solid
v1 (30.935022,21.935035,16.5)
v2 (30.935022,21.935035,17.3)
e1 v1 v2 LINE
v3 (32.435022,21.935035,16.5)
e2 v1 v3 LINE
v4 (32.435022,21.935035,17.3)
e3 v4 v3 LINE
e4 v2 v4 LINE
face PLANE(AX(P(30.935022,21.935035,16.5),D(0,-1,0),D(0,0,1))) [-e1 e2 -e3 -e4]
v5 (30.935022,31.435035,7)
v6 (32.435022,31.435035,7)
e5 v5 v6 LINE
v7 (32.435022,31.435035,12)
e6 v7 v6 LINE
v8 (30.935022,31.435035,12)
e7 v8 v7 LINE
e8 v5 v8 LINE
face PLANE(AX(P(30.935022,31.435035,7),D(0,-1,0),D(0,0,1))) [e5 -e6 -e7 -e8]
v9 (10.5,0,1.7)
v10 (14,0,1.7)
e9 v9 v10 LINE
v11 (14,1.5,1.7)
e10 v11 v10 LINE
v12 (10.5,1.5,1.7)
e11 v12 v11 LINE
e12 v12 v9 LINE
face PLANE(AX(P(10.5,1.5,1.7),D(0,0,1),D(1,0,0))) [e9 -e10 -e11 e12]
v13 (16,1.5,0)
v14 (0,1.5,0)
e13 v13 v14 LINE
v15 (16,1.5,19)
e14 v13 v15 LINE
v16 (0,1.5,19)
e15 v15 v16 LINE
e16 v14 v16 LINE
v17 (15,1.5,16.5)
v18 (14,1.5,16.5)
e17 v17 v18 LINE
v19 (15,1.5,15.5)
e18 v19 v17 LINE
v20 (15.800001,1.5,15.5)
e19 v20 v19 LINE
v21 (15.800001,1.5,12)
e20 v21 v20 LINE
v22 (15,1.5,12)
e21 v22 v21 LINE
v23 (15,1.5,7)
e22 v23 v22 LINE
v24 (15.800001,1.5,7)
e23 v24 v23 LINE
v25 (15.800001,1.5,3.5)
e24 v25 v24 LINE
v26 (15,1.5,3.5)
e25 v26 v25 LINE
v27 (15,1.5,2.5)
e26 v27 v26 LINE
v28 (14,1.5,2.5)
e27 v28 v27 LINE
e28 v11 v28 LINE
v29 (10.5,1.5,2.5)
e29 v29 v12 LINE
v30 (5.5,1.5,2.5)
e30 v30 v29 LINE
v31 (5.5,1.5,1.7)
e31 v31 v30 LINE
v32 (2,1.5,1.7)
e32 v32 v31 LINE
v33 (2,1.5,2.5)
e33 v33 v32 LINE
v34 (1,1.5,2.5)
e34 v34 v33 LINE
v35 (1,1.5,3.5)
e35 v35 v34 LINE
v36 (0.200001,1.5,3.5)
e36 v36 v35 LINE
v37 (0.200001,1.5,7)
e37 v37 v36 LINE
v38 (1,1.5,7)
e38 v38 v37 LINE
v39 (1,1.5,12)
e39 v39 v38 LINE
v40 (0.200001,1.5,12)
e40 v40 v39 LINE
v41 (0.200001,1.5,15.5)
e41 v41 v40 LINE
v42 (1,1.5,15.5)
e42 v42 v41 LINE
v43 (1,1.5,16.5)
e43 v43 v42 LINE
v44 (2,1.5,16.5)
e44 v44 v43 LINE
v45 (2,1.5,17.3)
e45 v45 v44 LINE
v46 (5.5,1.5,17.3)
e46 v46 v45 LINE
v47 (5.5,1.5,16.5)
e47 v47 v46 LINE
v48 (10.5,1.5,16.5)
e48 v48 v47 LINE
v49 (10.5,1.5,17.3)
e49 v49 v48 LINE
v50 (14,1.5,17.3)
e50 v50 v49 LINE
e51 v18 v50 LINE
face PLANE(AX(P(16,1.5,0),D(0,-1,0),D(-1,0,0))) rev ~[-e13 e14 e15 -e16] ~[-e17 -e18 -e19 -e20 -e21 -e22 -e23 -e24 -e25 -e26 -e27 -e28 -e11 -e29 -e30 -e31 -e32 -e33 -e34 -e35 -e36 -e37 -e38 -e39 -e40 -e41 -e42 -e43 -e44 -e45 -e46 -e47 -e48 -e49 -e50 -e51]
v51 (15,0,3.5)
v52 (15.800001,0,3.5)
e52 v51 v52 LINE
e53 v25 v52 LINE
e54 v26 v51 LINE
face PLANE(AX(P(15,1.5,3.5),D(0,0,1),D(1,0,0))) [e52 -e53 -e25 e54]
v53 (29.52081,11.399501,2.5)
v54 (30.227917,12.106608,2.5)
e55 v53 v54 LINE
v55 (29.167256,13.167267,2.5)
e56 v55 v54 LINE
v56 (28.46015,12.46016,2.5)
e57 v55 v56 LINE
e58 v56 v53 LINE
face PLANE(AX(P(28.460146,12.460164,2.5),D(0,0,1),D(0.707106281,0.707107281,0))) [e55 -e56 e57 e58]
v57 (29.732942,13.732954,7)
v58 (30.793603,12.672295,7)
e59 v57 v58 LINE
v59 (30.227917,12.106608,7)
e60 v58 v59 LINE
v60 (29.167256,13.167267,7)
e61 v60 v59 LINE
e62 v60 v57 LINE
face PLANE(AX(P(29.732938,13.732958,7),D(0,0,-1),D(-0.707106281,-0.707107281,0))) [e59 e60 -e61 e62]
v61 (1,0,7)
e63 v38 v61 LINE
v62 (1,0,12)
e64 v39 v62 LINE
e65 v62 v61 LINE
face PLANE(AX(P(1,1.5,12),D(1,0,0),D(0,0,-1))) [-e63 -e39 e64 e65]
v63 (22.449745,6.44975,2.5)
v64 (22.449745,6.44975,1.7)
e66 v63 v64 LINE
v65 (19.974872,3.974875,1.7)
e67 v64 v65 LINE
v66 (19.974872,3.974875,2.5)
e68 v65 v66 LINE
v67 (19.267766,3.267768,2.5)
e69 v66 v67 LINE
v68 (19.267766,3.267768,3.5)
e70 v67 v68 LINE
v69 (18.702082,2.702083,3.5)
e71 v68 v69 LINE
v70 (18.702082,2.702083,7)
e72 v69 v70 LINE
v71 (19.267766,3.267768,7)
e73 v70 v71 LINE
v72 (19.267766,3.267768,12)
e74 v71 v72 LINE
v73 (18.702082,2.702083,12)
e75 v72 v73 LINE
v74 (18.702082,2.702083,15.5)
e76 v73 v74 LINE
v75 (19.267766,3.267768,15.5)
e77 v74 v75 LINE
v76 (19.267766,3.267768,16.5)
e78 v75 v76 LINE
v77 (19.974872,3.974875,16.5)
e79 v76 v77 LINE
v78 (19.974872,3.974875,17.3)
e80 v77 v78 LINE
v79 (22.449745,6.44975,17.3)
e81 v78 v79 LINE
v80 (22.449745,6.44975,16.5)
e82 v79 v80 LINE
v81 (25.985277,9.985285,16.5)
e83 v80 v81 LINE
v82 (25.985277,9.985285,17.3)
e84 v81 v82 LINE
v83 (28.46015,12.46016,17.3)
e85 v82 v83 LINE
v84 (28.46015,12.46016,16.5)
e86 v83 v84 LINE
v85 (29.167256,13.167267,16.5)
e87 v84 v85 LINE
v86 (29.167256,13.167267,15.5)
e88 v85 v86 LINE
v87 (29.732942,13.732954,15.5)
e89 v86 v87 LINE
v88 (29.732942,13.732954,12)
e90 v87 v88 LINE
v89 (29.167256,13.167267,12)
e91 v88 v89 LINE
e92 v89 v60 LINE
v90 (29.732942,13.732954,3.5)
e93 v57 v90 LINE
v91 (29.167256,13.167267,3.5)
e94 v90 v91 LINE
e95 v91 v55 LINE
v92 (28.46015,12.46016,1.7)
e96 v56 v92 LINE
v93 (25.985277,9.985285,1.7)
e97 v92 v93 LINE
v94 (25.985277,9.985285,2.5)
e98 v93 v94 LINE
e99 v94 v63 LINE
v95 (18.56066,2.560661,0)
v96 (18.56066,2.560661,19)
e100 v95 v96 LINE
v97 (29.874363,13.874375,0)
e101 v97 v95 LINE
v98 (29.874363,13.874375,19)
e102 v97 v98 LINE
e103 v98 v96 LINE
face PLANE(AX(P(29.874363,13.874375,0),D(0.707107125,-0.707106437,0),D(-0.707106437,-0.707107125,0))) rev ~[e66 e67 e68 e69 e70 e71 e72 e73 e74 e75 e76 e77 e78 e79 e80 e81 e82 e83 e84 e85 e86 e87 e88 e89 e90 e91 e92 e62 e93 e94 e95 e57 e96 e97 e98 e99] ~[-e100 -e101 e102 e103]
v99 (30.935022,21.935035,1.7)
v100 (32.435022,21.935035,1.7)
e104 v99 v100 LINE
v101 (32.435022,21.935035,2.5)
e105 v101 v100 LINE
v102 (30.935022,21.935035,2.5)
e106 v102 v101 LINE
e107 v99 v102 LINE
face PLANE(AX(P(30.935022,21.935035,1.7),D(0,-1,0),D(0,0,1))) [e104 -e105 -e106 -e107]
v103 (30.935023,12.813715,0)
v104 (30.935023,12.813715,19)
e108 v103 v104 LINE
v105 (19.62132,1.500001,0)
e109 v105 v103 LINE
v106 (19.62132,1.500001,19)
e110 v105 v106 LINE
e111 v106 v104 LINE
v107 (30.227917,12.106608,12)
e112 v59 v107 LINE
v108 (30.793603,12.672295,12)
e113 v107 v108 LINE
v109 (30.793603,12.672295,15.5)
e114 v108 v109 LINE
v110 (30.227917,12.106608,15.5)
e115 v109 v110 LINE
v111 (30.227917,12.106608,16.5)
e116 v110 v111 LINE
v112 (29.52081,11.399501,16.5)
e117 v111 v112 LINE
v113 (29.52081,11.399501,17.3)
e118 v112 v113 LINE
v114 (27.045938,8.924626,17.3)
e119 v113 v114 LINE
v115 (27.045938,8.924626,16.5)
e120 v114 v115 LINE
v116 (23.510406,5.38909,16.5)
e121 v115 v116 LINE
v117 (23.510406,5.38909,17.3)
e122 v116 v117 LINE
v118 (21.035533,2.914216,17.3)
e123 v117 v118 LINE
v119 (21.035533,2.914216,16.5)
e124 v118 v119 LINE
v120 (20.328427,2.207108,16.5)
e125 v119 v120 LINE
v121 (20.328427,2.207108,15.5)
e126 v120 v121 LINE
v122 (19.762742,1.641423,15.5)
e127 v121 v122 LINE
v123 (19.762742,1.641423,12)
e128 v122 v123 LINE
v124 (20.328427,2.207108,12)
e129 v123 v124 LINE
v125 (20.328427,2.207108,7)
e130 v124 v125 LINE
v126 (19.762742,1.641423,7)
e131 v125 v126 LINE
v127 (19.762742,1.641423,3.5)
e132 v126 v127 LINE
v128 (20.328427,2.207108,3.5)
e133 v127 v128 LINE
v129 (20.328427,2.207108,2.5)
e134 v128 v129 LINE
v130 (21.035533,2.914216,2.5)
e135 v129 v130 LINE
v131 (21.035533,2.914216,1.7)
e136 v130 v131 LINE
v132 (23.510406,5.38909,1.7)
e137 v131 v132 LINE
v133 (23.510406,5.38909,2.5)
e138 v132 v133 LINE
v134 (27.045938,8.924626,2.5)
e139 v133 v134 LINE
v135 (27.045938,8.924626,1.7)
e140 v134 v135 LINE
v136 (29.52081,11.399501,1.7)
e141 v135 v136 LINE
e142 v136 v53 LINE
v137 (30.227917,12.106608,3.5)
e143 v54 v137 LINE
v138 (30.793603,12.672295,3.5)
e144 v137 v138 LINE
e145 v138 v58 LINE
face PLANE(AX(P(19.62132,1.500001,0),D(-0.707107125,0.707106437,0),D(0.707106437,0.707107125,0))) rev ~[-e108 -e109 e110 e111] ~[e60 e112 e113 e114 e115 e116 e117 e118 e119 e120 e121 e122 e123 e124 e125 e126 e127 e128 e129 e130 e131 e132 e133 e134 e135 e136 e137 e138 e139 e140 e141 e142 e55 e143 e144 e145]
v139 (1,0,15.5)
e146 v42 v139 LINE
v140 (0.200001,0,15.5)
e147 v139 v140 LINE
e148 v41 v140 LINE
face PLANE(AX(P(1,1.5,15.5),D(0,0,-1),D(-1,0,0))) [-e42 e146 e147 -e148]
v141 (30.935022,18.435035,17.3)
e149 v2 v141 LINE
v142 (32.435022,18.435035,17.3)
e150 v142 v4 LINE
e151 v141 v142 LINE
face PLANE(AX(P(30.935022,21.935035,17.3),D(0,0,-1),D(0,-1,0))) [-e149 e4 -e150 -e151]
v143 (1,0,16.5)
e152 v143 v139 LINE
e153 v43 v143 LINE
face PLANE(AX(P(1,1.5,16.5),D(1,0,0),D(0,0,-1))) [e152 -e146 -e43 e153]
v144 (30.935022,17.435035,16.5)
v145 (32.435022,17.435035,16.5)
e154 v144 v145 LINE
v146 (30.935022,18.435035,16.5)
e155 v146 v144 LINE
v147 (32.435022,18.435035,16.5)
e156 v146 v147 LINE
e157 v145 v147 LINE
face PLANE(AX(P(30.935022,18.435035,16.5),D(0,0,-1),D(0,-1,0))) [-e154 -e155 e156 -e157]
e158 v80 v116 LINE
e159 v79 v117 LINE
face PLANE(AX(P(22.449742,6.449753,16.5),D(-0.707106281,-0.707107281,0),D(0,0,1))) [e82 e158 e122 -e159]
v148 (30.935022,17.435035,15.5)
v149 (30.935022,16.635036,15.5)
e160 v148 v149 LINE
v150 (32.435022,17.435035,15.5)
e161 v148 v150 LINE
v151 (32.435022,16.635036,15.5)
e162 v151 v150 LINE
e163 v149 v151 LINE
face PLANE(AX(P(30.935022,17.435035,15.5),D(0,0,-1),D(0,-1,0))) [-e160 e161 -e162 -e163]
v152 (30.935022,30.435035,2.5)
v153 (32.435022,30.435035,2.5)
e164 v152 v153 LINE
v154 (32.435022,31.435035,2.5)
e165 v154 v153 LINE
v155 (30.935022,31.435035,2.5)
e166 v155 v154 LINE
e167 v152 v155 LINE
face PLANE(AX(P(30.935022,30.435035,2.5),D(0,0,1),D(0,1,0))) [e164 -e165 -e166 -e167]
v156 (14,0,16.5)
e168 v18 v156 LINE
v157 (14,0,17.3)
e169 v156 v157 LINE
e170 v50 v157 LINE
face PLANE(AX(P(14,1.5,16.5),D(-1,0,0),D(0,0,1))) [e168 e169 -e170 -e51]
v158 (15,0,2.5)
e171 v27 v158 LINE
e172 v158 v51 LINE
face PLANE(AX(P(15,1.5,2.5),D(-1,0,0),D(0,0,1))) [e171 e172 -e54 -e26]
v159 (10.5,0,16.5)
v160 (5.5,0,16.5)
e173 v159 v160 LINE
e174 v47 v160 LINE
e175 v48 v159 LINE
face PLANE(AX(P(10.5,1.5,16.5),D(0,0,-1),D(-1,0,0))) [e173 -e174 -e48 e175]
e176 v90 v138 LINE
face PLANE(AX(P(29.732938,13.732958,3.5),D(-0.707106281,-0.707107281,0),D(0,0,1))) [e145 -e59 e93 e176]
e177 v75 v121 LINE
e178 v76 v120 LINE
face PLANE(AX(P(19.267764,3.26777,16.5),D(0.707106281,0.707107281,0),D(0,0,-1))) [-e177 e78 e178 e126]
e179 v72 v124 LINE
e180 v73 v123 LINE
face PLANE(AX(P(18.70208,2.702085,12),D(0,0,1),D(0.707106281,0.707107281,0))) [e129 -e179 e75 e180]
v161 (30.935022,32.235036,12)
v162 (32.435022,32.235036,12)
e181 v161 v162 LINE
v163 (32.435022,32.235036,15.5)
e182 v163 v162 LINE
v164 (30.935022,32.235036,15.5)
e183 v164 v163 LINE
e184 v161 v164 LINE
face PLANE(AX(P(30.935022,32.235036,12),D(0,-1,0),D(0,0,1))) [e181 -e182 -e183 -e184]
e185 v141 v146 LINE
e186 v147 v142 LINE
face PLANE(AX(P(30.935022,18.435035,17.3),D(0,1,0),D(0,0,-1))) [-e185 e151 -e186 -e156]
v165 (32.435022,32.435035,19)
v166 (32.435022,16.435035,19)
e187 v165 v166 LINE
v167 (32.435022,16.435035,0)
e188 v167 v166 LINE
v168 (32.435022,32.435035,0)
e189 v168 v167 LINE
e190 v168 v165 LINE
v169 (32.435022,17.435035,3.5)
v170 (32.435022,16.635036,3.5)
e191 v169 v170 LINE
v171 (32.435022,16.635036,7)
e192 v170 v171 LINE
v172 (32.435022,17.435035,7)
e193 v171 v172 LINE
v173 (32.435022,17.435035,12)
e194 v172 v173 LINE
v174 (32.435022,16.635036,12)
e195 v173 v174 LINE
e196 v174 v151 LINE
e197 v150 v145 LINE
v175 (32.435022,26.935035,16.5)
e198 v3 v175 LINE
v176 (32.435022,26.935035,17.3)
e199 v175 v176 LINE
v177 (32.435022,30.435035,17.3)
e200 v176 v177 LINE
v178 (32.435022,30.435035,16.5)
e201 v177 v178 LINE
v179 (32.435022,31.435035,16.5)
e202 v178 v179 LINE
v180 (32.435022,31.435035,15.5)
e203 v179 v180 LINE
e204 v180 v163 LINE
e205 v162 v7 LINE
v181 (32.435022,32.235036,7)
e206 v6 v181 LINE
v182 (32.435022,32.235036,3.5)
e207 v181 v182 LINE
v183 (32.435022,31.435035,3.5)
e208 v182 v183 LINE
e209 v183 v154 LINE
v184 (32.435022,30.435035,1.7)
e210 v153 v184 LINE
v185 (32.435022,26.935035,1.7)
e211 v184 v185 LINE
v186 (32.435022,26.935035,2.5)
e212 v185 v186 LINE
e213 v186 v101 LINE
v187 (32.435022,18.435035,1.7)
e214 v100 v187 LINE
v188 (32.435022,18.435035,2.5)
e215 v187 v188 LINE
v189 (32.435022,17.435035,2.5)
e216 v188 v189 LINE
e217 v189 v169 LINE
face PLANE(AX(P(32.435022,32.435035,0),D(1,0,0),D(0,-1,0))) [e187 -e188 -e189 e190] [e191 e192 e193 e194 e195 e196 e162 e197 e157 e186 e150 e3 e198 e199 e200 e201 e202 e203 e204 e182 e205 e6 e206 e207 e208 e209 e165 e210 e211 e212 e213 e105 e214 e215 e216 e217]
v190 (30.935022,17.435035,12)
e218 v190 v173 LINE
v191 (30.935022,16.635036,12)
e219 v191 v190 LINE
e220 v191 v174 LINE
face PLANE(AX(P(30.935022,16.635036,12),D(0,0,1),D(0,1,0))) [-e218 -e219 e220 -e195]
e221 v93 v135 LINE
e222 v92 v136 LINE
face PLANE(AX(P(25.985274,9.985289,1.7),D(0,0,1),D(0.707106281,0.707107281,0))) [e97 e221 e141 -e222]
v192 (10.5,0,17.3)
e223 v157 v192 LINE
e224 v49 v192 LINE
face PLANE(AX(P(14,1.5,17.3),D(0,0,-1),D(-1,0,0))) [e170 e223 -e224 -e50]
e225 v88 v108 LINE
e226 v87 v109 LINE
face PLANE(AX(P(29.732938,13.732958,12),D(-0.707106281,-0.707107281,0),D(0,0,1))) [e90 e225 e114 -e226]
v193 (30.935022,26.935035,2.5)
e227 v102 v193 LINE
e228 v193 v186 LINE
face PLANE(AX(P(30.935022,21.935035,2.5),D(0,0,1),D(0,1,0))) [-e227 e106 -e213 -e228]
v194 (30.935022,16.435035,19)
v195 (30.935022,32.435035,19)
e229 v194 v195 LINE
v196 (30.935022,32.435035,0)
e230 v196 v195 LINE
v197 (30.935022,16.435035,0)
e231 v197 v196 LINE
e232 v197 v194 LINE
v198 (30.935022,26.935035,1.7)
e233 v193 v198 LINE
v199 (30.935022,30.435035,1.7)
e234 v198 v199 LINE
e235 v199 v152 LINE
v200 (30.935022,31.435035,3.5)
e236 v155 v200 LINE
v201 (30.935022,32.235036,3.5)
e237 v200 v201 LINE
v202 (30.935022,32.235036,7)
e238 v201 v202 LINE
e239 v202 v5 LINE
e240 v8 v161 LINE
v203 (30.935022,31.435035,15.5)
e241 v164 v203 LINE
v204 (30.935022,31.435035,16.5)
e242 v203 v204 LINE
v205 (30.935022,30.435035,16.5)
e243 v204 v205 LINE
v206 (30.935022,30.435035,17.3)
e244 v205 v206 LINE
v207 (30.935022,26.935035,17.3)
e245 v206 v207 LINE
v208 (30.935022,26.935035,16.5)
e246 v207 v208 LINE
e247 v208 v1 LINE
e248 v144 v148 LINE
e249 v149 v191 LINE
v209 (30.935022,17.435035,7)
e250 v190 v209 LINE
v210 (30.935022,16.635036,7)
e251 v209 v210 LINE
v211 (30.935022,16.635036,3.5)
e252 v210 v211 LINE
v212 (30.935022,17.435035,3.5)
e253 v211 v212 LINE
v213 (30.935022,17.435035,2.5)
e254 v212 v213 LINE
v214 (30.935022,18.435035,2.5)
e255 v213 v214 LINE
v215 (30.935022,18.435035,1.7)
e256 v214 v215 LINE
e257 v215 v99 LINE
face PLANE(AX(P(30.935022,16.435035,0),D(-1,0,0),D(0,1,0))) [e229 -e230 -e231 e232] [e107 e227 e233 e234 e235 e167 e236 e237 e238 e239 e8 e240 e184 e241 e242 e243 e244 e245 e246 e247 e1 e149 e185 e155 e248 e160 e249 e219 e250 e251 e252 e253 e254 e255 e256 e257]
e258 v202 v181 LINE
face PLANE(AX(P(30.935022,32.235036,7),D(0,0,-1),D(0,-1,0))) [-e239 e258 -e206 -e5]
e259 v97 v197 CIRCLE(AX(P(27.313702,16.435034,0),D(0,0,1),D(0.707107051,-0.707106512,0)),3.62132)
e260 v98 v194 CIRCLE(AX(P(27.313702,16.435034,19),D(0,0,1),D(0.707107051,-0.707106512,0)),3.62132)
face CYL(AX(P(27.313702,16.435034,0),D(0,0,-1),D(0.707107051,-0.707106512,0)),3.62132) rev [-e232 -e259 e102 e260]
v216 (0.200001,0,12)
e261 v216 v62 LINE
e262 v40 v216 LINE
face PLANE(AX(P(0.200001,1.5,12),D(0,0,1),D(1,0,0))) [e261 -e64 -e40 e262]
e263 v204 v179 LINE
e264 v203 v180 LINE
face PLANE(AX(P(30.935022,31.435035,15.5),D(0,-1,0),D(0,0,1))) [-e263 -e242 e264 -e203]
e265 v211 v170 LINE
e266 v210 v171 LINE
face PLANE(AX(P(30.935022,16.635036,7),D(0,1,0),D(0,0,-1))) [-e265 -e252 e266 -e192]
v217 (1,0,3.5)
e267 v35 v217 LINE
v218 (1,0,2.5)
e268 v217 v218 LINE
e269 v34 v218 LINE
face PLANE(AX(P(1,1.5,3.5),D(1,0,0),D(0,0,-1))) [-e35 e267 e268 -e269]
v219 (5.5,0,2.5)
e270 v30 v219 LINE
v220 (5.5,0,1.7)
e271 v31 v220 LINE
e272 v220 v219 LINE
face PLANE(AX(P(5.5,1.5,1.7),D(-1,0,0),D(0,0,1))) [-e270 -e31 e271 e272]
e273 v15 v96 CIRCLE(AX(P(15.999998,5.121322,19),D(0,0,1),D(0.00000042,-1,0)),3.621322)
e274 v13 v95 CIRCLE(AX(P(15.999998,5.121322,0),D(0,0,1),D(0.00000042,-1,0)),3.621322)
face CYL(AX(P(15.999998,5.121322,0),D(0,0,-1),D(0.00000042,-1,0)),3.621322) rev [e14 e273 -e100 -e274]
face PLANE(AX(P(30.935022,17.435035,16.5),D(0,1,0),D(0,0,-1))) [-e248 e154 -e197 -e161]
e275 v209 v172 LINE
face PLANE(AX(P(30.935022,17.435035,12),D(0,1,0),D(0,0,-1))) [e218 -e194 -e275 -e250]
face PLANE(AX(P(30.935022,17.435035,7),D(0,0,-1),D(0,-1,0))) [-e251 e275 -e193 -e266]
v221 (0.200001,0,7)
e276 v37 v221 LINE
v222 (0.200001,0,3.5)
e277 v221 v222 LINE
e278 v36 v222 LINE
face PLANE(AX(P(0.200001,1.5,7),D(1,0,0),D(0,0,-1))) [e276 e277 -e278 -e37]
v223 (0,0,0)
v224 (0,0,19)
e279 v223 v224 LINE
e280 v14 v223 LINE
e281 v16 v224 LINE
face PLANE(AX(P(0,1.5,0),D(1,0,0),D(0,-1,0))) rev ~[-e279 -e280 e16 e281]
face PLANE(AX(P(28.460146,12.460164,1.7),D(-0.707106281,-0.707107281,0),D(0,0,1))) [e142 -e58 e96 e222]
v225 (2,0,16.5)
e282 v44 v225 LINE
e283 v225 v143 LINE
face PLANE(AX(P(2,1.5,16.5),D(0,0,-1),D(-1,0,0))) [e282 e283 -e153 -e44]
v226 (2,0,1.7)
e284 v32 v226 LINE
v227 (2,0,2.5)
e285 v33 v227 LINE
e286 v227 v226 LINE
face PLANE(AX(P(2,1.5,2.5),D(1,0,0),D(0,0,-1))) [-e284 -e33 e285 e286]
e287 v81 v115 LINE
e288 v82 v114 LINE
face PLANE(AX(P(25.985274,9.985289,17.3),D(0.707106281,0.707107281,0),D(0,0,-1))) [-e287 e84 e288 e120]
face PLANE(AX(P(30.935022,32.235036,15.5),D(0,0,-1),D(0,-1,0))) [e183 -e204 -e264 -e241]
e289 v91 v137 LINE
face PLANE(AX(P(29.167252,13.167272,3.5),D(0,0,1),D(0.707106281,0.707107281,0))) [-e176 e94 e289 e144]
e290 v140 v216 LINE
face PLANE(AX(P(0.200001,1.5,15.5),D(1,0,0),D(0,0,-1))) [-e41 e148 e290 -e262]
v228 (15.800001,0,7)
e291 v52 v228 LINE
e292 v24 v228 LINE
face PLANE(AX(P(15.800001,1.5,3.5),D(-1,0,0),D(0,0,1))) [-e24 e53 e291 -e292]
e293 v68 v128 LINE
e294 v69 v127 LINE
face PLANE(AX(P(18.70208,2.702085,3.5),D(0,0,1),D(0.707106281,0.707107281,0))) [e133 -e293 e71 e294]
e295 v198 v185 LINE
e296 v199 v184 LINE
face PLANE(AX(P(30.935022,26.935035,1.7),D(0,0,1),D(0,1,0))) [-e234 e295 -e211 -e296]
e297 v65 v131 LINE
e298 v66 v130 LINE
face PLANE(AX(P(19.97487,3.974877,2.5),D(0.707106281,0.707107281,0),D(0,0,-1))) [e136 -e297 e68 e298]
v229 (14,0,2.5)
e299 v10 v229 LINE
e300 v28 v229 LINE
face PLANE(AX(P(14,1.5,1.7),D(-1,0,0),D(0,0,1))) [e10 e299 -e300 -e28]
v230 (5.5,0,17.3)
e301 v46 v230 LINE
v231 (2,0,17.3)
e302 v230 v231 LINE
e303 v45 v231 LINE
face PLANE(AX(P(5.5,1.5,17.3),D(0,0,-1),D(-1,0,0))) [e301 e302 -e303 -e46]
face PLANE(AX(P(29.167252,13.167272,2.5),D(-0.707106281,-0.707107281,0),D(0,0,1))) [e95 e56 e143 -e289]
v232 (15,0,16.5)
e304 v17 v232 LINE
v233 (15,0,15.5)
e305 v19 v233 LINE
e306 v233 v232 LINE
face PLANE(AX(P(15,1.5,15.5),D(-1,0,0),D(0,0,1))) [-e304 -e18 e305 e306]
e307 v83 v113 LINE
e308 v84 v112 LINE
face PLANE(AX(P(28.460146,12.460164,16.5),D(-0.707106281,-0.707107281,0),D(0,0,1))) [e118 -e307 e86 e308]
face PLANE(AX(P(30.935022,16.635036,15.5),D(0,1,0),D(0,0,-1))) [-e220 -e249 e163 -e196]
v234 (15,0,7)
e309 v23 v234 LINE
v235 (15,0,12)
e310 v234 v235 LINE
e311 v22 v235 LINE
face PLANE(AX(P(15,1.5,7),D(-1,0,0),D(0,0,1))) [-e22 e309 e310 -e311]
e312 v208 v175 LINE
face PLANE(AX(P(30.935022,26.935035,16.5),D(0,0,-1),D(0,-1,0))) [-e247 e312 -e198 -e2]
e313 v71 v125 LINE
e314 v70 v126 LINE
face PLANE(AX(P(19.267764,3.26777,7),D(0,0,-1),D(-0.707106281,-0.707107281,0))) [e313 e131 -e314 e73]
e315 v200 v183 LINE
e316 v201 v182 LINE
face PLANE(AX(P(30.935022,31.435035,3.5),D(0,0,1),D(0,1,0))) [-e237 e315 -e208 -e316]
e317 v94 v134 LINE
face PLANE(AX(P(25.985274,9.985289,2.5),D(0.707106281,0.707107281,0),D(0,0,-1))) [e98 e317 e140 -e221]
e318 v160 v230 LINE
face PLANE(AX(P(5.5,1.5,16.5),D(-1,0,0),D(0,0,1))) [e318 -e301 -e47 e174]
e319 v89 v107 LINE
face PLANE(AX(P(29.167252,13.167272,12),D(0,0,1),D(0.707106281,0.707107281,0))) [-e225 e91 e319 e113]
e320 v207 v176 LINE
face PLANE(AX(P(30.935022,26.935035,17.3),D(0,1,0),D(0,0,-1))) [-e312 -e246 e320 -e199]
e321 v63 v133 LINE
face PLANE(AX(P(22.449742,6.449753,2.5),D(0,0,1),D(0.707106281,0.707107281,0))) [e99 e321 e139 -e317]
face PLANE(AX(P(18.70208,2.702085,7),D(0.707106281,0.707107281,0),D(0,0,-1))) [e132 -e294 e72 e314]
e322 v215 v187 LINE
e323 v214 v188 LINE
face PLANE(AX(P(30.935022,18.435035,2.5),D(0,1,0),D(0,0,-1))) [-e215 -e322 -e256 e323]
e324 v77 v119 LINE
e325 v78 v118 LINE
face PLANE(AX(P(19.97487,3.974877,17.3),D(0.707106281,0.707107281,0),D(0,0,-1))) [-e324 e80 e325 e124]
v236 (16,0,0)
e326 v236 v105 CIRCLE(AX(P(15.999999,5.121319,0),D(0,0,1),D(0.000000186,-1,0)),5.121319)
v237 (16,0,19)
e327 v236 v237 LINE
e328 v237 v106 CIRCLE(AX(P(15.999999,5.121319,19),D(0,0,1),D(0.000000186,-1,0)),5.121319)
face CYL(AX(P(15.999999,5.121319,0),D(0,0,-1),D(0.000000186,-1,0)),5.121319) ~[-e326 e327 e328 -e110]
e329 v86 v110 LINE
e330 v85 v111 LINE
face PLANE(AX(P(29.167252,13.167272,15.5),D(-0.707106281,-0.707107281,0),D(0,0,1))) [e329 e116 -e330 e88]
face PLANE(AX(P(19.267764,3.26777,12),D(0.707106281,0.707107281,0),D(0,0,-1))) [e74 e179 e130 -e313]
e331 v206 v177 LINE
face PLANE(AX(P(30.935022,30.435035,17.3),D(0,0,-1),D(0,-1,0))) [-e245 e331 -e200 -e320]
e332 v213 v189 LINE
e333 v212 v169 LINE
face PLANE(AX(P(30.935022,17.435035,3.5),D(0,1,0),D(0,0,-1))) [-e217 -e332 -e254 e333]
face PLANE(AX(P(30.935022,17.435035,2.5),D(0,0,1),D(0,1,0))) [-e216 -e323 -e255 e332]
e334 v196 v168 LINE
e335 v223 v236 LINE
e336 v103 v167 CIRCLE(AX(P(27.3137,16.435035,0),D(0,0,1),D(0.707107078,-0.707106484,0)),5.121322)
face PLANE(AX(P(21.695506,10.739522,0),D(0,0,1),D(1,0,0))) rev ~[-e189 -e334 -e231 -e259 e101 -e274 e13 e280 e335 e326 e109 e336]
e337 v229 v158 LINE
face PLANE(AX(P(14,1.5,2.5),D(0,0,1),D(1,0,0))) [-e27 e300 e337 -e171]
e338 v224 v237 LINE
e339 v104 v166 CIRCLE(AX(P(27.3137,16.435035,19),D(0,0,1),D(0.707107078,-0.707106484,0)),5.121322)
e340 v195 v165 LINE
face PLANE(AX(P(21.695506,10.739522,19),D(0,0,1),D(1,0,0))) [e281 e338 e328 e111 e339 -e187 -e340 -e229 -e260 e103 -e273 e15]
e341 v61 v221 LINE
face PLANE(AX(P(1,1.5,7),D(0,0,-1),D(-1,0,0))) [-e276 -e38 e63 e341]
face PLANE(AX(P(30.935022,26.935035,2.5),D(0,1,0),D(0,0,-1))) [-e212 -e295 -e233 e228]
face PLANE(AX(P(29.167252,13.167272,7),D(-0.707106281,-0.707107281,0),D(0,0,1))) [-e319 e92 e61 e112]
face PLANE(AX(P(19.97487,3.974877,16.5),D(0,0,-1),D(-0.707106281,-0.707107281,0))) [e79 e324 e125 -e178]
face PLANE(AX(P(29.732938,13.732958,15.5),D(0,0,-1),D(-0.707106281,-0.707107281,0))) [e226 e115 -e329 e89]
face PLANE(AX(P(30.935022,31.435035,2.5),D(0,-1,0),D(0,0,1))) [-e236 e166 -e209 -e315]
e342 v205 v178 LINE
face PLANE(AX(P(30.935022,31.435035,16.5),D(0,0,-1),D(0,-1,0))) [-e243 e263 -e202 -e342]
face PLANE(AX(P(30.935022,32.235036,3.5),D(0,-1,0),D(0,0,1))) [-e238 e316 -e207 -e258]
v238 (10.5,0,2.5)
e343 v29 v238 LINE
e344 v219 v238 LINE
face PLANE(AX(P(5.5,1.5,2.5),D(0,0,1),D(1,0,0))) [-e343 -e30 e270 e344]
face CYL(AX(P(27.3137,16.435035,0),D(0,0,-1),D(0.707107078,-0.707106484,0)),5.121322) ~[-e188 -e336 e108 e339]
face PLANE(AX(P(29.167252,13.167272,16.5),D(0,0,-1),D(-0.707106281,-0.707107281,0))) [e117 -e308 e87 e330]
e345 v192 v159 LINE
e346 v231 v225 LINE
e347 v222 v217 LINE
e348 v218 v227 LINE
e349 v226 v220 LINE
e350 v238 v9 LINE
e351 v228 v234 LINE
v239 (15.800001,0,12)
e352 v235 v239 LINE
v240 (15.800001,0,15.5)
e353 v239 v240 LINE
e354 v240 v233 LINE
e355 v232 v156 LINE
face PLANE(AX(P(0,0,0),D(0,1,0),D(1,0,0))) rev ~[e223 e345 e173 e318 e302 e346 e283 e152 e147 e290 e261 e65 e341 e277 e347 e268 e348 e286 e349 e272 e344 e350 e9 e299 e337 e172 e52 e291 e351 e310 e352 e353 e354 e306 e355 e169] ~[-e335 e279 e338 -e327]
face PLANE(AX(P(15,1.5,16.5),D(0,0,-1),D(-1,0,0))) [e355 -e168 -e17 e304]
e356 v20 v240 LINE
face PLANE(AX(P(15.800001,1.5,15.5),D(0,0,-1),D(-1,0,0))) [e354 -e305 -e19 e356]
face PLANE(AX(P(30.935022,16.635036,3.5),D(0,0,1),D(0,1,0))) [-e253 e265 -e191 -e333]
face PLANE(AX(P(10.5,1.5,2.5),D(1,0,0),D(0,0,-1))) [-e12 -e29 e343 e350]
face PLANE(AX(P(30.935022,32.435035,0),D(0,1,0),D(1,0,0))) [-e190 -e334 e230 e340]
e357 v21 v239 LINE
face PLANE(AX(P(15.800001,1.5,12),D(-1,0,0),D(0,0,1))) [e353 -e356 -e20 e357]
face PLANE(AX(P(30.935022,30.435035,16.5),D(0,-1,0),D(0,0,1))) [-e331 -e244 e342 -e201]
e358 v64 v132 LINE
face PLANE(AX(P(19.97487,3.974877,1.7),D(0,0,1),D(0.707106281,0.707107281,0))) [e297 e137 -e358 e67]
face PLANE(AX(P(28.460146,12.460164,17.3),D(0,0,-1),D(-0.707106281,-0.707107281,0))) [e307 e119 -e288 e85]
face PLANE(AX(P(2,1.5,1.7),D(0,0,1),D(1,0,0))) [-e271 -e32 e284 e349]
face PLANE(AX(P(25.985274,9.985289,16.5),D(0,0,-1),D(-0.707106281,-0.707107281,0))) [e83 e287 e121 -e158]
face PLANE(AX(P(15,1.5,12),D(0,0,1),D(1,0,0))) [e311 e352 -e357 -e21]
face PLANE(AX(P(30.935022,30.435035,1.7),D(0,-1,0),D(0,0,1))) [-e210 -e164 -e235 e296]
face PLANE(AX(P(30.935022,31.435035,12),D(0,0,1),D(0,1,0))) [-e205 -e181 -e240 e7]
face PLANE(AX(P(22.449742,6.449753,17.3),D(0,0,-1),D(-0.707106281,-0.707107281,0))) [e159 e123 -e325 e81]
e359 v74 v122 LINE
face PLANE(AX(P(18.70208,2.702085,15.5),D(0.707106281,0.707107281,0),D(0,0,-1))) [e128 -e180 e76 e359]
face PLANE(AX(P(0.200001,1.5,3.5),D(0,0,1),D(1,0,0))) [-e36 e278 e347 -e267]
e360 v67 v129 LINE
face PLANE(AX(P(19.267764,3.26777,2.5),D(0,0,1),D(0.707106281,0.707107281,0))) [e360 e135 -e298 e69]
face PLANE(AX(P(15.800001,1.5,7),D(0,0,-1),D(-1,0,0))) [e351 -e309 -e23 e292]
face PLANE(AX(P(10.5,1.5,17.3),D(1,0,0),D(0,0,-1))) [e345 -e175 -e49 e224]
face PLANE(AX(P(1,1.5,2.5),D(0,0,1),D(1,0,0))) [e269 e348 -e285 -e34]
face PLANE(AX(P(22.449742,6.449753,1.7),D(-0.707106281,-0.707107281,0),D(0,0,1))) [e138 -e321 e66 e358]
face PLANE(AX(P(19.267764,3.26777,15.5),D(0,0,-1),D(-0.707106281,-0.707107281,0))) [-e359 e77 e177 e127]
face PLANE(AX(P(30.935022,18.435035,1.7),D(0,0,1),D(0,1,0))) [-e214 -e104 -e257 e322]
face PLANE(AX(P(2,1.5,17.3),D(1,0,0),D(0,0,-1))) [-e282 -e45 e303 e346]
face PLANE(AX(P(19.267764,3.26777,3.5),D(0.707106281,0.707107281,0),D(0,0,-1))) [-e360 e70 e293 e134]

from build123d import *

# Parameters (mm, degrees)
PAD_DEPTH       = 19
POCKET_DEPTH    = 11.62232
POCKET002_DEPTH = 1.501
POCKET003_DEPTH = 1.501


with BuildPart() as part:
    # Sketch → Pad (new body)
    with BuildSketch(Plane.XY):
        with BuildLine():
            Line((0, 0), (16, 0))
            ThreePointArc((16, 0), (17.959845, 0.389838), (19.62132, 1.500001))
            Line((19.62132, 1.500001), (30.935023, 12.813715))
            ThreePointArc((30.935023, 12.813715), (32.045185, 14.475191), (32.435022, 16.435035))
            Line((32.435022, 32.435035), (32.435022, 16.435035))
            Line((30.935022, 32.435035), (32.435022, 32.435035))
            Line((30.935022, 16.435035), (30.935022, 32.435035))
            ThreePointArc((29.874363, 13.874375), (30.659366, 15.049216), (30.935022, 16.435035))
            Line((29.874363, 13.874375), (18.56066, 2.560661))
            ThreePointArc((16, 1.5), (17.385819, 1.775657), (18.56066, 2.560661))
            Line((16, 1.5), (0, 1.5))
            Line((0, 1.5), (0, 0))
        make_face()
    extrude(amount=PAD_DEPTH)

    # Sketch004 → Pocket (cut, through all)
    with BuildSketch(Plane(origin=(8.000009, -8.000001, 0), x_dir=(-0.707106, -0.707107, 0), z_dir=(-0.707107, 0.707106, 0))):
        Polygon((-28.935023, 17.3), (-25.435023, 17.3), (-25.435023, 16.5), (-20.435023, 16.5), (-20.435023, 17.3), (-16.935023, 17.3), (-16.935023, 16.5), (-15.935023, 16.5), (-15.935023, 15.5), (-15.135024, 15.5), (-15.135024, 12), (-15.935023, 12), (-15.935023, 7), (-15.135024, 7), (-15.135024, 3.5), (-15.935023, 3.5), (-15.935023, 2.5), (-16.935023, 2.5), (-16.935023, 1.7), (-20.435023, 1.7), (-20.435023, 2.5), (-25.435023, 2.5), (-25.435023, 1.7), (-28.935023, 1.7), (-28.935023, 2.5), (-29.935023, 2.5), (-29.935023, 3.5), (-30.735024, 3.5), (-30.735024, 7), (-29.935023, 7), (-29.935023, 12), (-30.735024, 12), (-30.735024, 15.5), (-29.935023, 15.5), (-29.935023, 16.5), (-28.935023, 16.5), align=None)
    extrude(amount=-POCKET_DEPTH, mode=Mode.SUBTRACT)

    # Sketch004001 → Pocket002 (cut, through all)
    with BuildSketch(Plane(origin=(30.935022, 0, 0), x_dir=(0, -1, 0), z_dir=(-1, 0, 0))):
        Polygon((-30.435035, 17.3), (-26.935035, 17.3), (-26.935035, 16.5), (-21.935035, 16.5), (-21.935035, 17.3), (-18.435035, 17.3), (-18.435035, 16.5), (-17.435035, 16.5), (-17.435035, 15.5), (-16.635036, 15.5), (-16.635036, 12), (-17.435035, 12), (-17.435035, 7), (-16.635036, 7), (-16.635036, 3.5), (-17.435035, 3.5), (-17.435035, 2.5), (-18.435035, 2.5), (-18.435035, 1.7), (-21.935035, 1.7), (-21.935035, 2.5), (-26.935035, 2.5), (-26.935035, 1.7), (-30.435035, 1.7), (-30.435035, 2.5), (-31.435035, 2.5), (-31.435035, 3.5), (-32.235036, 3.5), (-32.235036, 7), (-31.435035, 7), (-31.435035, 12), (-32.235036, 12), (-32.235036, 15.5), (-31.435035, 15.5), (-31.435035, 16.5), (-30.435035, 16.5), align=None)
    extrude(amount=-POCKET002_DEPTH, mode=Mode.SUBTRACT)

    # Sketch004001001 → Pocket003 (cut, through all)
    with BuildSketch(Plane(origin=(0, 1.5, 0), x_dir=(-1, 0, 0), z_dir=(0, 1, 0))):
        Polygon((-14, 17.3), (-10.5, 17.3), (-10.5, 16.5), (-5.5, 16.5), (-5.5, 17.3), (-2, 17.3), (-2, 16.5), (-1, 16.5), (-1, 15.5), (-0.200001, 15.5), (-0.200001, 12), (-1, 12), (-1, 7), (-0.200001, 7), (-0.200001, 3.5), (-1, 3.5), (-1, 2.5), (-2, 2.5), (-2, 1.7), (-5.5, 1.7), (-5.5, 2.5), (-10.5, 2.5), (-10.5, 1.7), (-14, 1.7), (-14, 2.5), (-15, 2.5), (-15, 3.5), (-15.800001, 3.5), (-15.800001, 7), (-15, 7), (-15, 12), (-15.800001, 12), (-15.800001, 15.5), (-15, 15.5), (-15, 16.5), (-14, 16.5), align=None)
    extrude(amount=-POCKET003_DEPTH, mode=Mode.SUBTRACT)


solid = part.part
